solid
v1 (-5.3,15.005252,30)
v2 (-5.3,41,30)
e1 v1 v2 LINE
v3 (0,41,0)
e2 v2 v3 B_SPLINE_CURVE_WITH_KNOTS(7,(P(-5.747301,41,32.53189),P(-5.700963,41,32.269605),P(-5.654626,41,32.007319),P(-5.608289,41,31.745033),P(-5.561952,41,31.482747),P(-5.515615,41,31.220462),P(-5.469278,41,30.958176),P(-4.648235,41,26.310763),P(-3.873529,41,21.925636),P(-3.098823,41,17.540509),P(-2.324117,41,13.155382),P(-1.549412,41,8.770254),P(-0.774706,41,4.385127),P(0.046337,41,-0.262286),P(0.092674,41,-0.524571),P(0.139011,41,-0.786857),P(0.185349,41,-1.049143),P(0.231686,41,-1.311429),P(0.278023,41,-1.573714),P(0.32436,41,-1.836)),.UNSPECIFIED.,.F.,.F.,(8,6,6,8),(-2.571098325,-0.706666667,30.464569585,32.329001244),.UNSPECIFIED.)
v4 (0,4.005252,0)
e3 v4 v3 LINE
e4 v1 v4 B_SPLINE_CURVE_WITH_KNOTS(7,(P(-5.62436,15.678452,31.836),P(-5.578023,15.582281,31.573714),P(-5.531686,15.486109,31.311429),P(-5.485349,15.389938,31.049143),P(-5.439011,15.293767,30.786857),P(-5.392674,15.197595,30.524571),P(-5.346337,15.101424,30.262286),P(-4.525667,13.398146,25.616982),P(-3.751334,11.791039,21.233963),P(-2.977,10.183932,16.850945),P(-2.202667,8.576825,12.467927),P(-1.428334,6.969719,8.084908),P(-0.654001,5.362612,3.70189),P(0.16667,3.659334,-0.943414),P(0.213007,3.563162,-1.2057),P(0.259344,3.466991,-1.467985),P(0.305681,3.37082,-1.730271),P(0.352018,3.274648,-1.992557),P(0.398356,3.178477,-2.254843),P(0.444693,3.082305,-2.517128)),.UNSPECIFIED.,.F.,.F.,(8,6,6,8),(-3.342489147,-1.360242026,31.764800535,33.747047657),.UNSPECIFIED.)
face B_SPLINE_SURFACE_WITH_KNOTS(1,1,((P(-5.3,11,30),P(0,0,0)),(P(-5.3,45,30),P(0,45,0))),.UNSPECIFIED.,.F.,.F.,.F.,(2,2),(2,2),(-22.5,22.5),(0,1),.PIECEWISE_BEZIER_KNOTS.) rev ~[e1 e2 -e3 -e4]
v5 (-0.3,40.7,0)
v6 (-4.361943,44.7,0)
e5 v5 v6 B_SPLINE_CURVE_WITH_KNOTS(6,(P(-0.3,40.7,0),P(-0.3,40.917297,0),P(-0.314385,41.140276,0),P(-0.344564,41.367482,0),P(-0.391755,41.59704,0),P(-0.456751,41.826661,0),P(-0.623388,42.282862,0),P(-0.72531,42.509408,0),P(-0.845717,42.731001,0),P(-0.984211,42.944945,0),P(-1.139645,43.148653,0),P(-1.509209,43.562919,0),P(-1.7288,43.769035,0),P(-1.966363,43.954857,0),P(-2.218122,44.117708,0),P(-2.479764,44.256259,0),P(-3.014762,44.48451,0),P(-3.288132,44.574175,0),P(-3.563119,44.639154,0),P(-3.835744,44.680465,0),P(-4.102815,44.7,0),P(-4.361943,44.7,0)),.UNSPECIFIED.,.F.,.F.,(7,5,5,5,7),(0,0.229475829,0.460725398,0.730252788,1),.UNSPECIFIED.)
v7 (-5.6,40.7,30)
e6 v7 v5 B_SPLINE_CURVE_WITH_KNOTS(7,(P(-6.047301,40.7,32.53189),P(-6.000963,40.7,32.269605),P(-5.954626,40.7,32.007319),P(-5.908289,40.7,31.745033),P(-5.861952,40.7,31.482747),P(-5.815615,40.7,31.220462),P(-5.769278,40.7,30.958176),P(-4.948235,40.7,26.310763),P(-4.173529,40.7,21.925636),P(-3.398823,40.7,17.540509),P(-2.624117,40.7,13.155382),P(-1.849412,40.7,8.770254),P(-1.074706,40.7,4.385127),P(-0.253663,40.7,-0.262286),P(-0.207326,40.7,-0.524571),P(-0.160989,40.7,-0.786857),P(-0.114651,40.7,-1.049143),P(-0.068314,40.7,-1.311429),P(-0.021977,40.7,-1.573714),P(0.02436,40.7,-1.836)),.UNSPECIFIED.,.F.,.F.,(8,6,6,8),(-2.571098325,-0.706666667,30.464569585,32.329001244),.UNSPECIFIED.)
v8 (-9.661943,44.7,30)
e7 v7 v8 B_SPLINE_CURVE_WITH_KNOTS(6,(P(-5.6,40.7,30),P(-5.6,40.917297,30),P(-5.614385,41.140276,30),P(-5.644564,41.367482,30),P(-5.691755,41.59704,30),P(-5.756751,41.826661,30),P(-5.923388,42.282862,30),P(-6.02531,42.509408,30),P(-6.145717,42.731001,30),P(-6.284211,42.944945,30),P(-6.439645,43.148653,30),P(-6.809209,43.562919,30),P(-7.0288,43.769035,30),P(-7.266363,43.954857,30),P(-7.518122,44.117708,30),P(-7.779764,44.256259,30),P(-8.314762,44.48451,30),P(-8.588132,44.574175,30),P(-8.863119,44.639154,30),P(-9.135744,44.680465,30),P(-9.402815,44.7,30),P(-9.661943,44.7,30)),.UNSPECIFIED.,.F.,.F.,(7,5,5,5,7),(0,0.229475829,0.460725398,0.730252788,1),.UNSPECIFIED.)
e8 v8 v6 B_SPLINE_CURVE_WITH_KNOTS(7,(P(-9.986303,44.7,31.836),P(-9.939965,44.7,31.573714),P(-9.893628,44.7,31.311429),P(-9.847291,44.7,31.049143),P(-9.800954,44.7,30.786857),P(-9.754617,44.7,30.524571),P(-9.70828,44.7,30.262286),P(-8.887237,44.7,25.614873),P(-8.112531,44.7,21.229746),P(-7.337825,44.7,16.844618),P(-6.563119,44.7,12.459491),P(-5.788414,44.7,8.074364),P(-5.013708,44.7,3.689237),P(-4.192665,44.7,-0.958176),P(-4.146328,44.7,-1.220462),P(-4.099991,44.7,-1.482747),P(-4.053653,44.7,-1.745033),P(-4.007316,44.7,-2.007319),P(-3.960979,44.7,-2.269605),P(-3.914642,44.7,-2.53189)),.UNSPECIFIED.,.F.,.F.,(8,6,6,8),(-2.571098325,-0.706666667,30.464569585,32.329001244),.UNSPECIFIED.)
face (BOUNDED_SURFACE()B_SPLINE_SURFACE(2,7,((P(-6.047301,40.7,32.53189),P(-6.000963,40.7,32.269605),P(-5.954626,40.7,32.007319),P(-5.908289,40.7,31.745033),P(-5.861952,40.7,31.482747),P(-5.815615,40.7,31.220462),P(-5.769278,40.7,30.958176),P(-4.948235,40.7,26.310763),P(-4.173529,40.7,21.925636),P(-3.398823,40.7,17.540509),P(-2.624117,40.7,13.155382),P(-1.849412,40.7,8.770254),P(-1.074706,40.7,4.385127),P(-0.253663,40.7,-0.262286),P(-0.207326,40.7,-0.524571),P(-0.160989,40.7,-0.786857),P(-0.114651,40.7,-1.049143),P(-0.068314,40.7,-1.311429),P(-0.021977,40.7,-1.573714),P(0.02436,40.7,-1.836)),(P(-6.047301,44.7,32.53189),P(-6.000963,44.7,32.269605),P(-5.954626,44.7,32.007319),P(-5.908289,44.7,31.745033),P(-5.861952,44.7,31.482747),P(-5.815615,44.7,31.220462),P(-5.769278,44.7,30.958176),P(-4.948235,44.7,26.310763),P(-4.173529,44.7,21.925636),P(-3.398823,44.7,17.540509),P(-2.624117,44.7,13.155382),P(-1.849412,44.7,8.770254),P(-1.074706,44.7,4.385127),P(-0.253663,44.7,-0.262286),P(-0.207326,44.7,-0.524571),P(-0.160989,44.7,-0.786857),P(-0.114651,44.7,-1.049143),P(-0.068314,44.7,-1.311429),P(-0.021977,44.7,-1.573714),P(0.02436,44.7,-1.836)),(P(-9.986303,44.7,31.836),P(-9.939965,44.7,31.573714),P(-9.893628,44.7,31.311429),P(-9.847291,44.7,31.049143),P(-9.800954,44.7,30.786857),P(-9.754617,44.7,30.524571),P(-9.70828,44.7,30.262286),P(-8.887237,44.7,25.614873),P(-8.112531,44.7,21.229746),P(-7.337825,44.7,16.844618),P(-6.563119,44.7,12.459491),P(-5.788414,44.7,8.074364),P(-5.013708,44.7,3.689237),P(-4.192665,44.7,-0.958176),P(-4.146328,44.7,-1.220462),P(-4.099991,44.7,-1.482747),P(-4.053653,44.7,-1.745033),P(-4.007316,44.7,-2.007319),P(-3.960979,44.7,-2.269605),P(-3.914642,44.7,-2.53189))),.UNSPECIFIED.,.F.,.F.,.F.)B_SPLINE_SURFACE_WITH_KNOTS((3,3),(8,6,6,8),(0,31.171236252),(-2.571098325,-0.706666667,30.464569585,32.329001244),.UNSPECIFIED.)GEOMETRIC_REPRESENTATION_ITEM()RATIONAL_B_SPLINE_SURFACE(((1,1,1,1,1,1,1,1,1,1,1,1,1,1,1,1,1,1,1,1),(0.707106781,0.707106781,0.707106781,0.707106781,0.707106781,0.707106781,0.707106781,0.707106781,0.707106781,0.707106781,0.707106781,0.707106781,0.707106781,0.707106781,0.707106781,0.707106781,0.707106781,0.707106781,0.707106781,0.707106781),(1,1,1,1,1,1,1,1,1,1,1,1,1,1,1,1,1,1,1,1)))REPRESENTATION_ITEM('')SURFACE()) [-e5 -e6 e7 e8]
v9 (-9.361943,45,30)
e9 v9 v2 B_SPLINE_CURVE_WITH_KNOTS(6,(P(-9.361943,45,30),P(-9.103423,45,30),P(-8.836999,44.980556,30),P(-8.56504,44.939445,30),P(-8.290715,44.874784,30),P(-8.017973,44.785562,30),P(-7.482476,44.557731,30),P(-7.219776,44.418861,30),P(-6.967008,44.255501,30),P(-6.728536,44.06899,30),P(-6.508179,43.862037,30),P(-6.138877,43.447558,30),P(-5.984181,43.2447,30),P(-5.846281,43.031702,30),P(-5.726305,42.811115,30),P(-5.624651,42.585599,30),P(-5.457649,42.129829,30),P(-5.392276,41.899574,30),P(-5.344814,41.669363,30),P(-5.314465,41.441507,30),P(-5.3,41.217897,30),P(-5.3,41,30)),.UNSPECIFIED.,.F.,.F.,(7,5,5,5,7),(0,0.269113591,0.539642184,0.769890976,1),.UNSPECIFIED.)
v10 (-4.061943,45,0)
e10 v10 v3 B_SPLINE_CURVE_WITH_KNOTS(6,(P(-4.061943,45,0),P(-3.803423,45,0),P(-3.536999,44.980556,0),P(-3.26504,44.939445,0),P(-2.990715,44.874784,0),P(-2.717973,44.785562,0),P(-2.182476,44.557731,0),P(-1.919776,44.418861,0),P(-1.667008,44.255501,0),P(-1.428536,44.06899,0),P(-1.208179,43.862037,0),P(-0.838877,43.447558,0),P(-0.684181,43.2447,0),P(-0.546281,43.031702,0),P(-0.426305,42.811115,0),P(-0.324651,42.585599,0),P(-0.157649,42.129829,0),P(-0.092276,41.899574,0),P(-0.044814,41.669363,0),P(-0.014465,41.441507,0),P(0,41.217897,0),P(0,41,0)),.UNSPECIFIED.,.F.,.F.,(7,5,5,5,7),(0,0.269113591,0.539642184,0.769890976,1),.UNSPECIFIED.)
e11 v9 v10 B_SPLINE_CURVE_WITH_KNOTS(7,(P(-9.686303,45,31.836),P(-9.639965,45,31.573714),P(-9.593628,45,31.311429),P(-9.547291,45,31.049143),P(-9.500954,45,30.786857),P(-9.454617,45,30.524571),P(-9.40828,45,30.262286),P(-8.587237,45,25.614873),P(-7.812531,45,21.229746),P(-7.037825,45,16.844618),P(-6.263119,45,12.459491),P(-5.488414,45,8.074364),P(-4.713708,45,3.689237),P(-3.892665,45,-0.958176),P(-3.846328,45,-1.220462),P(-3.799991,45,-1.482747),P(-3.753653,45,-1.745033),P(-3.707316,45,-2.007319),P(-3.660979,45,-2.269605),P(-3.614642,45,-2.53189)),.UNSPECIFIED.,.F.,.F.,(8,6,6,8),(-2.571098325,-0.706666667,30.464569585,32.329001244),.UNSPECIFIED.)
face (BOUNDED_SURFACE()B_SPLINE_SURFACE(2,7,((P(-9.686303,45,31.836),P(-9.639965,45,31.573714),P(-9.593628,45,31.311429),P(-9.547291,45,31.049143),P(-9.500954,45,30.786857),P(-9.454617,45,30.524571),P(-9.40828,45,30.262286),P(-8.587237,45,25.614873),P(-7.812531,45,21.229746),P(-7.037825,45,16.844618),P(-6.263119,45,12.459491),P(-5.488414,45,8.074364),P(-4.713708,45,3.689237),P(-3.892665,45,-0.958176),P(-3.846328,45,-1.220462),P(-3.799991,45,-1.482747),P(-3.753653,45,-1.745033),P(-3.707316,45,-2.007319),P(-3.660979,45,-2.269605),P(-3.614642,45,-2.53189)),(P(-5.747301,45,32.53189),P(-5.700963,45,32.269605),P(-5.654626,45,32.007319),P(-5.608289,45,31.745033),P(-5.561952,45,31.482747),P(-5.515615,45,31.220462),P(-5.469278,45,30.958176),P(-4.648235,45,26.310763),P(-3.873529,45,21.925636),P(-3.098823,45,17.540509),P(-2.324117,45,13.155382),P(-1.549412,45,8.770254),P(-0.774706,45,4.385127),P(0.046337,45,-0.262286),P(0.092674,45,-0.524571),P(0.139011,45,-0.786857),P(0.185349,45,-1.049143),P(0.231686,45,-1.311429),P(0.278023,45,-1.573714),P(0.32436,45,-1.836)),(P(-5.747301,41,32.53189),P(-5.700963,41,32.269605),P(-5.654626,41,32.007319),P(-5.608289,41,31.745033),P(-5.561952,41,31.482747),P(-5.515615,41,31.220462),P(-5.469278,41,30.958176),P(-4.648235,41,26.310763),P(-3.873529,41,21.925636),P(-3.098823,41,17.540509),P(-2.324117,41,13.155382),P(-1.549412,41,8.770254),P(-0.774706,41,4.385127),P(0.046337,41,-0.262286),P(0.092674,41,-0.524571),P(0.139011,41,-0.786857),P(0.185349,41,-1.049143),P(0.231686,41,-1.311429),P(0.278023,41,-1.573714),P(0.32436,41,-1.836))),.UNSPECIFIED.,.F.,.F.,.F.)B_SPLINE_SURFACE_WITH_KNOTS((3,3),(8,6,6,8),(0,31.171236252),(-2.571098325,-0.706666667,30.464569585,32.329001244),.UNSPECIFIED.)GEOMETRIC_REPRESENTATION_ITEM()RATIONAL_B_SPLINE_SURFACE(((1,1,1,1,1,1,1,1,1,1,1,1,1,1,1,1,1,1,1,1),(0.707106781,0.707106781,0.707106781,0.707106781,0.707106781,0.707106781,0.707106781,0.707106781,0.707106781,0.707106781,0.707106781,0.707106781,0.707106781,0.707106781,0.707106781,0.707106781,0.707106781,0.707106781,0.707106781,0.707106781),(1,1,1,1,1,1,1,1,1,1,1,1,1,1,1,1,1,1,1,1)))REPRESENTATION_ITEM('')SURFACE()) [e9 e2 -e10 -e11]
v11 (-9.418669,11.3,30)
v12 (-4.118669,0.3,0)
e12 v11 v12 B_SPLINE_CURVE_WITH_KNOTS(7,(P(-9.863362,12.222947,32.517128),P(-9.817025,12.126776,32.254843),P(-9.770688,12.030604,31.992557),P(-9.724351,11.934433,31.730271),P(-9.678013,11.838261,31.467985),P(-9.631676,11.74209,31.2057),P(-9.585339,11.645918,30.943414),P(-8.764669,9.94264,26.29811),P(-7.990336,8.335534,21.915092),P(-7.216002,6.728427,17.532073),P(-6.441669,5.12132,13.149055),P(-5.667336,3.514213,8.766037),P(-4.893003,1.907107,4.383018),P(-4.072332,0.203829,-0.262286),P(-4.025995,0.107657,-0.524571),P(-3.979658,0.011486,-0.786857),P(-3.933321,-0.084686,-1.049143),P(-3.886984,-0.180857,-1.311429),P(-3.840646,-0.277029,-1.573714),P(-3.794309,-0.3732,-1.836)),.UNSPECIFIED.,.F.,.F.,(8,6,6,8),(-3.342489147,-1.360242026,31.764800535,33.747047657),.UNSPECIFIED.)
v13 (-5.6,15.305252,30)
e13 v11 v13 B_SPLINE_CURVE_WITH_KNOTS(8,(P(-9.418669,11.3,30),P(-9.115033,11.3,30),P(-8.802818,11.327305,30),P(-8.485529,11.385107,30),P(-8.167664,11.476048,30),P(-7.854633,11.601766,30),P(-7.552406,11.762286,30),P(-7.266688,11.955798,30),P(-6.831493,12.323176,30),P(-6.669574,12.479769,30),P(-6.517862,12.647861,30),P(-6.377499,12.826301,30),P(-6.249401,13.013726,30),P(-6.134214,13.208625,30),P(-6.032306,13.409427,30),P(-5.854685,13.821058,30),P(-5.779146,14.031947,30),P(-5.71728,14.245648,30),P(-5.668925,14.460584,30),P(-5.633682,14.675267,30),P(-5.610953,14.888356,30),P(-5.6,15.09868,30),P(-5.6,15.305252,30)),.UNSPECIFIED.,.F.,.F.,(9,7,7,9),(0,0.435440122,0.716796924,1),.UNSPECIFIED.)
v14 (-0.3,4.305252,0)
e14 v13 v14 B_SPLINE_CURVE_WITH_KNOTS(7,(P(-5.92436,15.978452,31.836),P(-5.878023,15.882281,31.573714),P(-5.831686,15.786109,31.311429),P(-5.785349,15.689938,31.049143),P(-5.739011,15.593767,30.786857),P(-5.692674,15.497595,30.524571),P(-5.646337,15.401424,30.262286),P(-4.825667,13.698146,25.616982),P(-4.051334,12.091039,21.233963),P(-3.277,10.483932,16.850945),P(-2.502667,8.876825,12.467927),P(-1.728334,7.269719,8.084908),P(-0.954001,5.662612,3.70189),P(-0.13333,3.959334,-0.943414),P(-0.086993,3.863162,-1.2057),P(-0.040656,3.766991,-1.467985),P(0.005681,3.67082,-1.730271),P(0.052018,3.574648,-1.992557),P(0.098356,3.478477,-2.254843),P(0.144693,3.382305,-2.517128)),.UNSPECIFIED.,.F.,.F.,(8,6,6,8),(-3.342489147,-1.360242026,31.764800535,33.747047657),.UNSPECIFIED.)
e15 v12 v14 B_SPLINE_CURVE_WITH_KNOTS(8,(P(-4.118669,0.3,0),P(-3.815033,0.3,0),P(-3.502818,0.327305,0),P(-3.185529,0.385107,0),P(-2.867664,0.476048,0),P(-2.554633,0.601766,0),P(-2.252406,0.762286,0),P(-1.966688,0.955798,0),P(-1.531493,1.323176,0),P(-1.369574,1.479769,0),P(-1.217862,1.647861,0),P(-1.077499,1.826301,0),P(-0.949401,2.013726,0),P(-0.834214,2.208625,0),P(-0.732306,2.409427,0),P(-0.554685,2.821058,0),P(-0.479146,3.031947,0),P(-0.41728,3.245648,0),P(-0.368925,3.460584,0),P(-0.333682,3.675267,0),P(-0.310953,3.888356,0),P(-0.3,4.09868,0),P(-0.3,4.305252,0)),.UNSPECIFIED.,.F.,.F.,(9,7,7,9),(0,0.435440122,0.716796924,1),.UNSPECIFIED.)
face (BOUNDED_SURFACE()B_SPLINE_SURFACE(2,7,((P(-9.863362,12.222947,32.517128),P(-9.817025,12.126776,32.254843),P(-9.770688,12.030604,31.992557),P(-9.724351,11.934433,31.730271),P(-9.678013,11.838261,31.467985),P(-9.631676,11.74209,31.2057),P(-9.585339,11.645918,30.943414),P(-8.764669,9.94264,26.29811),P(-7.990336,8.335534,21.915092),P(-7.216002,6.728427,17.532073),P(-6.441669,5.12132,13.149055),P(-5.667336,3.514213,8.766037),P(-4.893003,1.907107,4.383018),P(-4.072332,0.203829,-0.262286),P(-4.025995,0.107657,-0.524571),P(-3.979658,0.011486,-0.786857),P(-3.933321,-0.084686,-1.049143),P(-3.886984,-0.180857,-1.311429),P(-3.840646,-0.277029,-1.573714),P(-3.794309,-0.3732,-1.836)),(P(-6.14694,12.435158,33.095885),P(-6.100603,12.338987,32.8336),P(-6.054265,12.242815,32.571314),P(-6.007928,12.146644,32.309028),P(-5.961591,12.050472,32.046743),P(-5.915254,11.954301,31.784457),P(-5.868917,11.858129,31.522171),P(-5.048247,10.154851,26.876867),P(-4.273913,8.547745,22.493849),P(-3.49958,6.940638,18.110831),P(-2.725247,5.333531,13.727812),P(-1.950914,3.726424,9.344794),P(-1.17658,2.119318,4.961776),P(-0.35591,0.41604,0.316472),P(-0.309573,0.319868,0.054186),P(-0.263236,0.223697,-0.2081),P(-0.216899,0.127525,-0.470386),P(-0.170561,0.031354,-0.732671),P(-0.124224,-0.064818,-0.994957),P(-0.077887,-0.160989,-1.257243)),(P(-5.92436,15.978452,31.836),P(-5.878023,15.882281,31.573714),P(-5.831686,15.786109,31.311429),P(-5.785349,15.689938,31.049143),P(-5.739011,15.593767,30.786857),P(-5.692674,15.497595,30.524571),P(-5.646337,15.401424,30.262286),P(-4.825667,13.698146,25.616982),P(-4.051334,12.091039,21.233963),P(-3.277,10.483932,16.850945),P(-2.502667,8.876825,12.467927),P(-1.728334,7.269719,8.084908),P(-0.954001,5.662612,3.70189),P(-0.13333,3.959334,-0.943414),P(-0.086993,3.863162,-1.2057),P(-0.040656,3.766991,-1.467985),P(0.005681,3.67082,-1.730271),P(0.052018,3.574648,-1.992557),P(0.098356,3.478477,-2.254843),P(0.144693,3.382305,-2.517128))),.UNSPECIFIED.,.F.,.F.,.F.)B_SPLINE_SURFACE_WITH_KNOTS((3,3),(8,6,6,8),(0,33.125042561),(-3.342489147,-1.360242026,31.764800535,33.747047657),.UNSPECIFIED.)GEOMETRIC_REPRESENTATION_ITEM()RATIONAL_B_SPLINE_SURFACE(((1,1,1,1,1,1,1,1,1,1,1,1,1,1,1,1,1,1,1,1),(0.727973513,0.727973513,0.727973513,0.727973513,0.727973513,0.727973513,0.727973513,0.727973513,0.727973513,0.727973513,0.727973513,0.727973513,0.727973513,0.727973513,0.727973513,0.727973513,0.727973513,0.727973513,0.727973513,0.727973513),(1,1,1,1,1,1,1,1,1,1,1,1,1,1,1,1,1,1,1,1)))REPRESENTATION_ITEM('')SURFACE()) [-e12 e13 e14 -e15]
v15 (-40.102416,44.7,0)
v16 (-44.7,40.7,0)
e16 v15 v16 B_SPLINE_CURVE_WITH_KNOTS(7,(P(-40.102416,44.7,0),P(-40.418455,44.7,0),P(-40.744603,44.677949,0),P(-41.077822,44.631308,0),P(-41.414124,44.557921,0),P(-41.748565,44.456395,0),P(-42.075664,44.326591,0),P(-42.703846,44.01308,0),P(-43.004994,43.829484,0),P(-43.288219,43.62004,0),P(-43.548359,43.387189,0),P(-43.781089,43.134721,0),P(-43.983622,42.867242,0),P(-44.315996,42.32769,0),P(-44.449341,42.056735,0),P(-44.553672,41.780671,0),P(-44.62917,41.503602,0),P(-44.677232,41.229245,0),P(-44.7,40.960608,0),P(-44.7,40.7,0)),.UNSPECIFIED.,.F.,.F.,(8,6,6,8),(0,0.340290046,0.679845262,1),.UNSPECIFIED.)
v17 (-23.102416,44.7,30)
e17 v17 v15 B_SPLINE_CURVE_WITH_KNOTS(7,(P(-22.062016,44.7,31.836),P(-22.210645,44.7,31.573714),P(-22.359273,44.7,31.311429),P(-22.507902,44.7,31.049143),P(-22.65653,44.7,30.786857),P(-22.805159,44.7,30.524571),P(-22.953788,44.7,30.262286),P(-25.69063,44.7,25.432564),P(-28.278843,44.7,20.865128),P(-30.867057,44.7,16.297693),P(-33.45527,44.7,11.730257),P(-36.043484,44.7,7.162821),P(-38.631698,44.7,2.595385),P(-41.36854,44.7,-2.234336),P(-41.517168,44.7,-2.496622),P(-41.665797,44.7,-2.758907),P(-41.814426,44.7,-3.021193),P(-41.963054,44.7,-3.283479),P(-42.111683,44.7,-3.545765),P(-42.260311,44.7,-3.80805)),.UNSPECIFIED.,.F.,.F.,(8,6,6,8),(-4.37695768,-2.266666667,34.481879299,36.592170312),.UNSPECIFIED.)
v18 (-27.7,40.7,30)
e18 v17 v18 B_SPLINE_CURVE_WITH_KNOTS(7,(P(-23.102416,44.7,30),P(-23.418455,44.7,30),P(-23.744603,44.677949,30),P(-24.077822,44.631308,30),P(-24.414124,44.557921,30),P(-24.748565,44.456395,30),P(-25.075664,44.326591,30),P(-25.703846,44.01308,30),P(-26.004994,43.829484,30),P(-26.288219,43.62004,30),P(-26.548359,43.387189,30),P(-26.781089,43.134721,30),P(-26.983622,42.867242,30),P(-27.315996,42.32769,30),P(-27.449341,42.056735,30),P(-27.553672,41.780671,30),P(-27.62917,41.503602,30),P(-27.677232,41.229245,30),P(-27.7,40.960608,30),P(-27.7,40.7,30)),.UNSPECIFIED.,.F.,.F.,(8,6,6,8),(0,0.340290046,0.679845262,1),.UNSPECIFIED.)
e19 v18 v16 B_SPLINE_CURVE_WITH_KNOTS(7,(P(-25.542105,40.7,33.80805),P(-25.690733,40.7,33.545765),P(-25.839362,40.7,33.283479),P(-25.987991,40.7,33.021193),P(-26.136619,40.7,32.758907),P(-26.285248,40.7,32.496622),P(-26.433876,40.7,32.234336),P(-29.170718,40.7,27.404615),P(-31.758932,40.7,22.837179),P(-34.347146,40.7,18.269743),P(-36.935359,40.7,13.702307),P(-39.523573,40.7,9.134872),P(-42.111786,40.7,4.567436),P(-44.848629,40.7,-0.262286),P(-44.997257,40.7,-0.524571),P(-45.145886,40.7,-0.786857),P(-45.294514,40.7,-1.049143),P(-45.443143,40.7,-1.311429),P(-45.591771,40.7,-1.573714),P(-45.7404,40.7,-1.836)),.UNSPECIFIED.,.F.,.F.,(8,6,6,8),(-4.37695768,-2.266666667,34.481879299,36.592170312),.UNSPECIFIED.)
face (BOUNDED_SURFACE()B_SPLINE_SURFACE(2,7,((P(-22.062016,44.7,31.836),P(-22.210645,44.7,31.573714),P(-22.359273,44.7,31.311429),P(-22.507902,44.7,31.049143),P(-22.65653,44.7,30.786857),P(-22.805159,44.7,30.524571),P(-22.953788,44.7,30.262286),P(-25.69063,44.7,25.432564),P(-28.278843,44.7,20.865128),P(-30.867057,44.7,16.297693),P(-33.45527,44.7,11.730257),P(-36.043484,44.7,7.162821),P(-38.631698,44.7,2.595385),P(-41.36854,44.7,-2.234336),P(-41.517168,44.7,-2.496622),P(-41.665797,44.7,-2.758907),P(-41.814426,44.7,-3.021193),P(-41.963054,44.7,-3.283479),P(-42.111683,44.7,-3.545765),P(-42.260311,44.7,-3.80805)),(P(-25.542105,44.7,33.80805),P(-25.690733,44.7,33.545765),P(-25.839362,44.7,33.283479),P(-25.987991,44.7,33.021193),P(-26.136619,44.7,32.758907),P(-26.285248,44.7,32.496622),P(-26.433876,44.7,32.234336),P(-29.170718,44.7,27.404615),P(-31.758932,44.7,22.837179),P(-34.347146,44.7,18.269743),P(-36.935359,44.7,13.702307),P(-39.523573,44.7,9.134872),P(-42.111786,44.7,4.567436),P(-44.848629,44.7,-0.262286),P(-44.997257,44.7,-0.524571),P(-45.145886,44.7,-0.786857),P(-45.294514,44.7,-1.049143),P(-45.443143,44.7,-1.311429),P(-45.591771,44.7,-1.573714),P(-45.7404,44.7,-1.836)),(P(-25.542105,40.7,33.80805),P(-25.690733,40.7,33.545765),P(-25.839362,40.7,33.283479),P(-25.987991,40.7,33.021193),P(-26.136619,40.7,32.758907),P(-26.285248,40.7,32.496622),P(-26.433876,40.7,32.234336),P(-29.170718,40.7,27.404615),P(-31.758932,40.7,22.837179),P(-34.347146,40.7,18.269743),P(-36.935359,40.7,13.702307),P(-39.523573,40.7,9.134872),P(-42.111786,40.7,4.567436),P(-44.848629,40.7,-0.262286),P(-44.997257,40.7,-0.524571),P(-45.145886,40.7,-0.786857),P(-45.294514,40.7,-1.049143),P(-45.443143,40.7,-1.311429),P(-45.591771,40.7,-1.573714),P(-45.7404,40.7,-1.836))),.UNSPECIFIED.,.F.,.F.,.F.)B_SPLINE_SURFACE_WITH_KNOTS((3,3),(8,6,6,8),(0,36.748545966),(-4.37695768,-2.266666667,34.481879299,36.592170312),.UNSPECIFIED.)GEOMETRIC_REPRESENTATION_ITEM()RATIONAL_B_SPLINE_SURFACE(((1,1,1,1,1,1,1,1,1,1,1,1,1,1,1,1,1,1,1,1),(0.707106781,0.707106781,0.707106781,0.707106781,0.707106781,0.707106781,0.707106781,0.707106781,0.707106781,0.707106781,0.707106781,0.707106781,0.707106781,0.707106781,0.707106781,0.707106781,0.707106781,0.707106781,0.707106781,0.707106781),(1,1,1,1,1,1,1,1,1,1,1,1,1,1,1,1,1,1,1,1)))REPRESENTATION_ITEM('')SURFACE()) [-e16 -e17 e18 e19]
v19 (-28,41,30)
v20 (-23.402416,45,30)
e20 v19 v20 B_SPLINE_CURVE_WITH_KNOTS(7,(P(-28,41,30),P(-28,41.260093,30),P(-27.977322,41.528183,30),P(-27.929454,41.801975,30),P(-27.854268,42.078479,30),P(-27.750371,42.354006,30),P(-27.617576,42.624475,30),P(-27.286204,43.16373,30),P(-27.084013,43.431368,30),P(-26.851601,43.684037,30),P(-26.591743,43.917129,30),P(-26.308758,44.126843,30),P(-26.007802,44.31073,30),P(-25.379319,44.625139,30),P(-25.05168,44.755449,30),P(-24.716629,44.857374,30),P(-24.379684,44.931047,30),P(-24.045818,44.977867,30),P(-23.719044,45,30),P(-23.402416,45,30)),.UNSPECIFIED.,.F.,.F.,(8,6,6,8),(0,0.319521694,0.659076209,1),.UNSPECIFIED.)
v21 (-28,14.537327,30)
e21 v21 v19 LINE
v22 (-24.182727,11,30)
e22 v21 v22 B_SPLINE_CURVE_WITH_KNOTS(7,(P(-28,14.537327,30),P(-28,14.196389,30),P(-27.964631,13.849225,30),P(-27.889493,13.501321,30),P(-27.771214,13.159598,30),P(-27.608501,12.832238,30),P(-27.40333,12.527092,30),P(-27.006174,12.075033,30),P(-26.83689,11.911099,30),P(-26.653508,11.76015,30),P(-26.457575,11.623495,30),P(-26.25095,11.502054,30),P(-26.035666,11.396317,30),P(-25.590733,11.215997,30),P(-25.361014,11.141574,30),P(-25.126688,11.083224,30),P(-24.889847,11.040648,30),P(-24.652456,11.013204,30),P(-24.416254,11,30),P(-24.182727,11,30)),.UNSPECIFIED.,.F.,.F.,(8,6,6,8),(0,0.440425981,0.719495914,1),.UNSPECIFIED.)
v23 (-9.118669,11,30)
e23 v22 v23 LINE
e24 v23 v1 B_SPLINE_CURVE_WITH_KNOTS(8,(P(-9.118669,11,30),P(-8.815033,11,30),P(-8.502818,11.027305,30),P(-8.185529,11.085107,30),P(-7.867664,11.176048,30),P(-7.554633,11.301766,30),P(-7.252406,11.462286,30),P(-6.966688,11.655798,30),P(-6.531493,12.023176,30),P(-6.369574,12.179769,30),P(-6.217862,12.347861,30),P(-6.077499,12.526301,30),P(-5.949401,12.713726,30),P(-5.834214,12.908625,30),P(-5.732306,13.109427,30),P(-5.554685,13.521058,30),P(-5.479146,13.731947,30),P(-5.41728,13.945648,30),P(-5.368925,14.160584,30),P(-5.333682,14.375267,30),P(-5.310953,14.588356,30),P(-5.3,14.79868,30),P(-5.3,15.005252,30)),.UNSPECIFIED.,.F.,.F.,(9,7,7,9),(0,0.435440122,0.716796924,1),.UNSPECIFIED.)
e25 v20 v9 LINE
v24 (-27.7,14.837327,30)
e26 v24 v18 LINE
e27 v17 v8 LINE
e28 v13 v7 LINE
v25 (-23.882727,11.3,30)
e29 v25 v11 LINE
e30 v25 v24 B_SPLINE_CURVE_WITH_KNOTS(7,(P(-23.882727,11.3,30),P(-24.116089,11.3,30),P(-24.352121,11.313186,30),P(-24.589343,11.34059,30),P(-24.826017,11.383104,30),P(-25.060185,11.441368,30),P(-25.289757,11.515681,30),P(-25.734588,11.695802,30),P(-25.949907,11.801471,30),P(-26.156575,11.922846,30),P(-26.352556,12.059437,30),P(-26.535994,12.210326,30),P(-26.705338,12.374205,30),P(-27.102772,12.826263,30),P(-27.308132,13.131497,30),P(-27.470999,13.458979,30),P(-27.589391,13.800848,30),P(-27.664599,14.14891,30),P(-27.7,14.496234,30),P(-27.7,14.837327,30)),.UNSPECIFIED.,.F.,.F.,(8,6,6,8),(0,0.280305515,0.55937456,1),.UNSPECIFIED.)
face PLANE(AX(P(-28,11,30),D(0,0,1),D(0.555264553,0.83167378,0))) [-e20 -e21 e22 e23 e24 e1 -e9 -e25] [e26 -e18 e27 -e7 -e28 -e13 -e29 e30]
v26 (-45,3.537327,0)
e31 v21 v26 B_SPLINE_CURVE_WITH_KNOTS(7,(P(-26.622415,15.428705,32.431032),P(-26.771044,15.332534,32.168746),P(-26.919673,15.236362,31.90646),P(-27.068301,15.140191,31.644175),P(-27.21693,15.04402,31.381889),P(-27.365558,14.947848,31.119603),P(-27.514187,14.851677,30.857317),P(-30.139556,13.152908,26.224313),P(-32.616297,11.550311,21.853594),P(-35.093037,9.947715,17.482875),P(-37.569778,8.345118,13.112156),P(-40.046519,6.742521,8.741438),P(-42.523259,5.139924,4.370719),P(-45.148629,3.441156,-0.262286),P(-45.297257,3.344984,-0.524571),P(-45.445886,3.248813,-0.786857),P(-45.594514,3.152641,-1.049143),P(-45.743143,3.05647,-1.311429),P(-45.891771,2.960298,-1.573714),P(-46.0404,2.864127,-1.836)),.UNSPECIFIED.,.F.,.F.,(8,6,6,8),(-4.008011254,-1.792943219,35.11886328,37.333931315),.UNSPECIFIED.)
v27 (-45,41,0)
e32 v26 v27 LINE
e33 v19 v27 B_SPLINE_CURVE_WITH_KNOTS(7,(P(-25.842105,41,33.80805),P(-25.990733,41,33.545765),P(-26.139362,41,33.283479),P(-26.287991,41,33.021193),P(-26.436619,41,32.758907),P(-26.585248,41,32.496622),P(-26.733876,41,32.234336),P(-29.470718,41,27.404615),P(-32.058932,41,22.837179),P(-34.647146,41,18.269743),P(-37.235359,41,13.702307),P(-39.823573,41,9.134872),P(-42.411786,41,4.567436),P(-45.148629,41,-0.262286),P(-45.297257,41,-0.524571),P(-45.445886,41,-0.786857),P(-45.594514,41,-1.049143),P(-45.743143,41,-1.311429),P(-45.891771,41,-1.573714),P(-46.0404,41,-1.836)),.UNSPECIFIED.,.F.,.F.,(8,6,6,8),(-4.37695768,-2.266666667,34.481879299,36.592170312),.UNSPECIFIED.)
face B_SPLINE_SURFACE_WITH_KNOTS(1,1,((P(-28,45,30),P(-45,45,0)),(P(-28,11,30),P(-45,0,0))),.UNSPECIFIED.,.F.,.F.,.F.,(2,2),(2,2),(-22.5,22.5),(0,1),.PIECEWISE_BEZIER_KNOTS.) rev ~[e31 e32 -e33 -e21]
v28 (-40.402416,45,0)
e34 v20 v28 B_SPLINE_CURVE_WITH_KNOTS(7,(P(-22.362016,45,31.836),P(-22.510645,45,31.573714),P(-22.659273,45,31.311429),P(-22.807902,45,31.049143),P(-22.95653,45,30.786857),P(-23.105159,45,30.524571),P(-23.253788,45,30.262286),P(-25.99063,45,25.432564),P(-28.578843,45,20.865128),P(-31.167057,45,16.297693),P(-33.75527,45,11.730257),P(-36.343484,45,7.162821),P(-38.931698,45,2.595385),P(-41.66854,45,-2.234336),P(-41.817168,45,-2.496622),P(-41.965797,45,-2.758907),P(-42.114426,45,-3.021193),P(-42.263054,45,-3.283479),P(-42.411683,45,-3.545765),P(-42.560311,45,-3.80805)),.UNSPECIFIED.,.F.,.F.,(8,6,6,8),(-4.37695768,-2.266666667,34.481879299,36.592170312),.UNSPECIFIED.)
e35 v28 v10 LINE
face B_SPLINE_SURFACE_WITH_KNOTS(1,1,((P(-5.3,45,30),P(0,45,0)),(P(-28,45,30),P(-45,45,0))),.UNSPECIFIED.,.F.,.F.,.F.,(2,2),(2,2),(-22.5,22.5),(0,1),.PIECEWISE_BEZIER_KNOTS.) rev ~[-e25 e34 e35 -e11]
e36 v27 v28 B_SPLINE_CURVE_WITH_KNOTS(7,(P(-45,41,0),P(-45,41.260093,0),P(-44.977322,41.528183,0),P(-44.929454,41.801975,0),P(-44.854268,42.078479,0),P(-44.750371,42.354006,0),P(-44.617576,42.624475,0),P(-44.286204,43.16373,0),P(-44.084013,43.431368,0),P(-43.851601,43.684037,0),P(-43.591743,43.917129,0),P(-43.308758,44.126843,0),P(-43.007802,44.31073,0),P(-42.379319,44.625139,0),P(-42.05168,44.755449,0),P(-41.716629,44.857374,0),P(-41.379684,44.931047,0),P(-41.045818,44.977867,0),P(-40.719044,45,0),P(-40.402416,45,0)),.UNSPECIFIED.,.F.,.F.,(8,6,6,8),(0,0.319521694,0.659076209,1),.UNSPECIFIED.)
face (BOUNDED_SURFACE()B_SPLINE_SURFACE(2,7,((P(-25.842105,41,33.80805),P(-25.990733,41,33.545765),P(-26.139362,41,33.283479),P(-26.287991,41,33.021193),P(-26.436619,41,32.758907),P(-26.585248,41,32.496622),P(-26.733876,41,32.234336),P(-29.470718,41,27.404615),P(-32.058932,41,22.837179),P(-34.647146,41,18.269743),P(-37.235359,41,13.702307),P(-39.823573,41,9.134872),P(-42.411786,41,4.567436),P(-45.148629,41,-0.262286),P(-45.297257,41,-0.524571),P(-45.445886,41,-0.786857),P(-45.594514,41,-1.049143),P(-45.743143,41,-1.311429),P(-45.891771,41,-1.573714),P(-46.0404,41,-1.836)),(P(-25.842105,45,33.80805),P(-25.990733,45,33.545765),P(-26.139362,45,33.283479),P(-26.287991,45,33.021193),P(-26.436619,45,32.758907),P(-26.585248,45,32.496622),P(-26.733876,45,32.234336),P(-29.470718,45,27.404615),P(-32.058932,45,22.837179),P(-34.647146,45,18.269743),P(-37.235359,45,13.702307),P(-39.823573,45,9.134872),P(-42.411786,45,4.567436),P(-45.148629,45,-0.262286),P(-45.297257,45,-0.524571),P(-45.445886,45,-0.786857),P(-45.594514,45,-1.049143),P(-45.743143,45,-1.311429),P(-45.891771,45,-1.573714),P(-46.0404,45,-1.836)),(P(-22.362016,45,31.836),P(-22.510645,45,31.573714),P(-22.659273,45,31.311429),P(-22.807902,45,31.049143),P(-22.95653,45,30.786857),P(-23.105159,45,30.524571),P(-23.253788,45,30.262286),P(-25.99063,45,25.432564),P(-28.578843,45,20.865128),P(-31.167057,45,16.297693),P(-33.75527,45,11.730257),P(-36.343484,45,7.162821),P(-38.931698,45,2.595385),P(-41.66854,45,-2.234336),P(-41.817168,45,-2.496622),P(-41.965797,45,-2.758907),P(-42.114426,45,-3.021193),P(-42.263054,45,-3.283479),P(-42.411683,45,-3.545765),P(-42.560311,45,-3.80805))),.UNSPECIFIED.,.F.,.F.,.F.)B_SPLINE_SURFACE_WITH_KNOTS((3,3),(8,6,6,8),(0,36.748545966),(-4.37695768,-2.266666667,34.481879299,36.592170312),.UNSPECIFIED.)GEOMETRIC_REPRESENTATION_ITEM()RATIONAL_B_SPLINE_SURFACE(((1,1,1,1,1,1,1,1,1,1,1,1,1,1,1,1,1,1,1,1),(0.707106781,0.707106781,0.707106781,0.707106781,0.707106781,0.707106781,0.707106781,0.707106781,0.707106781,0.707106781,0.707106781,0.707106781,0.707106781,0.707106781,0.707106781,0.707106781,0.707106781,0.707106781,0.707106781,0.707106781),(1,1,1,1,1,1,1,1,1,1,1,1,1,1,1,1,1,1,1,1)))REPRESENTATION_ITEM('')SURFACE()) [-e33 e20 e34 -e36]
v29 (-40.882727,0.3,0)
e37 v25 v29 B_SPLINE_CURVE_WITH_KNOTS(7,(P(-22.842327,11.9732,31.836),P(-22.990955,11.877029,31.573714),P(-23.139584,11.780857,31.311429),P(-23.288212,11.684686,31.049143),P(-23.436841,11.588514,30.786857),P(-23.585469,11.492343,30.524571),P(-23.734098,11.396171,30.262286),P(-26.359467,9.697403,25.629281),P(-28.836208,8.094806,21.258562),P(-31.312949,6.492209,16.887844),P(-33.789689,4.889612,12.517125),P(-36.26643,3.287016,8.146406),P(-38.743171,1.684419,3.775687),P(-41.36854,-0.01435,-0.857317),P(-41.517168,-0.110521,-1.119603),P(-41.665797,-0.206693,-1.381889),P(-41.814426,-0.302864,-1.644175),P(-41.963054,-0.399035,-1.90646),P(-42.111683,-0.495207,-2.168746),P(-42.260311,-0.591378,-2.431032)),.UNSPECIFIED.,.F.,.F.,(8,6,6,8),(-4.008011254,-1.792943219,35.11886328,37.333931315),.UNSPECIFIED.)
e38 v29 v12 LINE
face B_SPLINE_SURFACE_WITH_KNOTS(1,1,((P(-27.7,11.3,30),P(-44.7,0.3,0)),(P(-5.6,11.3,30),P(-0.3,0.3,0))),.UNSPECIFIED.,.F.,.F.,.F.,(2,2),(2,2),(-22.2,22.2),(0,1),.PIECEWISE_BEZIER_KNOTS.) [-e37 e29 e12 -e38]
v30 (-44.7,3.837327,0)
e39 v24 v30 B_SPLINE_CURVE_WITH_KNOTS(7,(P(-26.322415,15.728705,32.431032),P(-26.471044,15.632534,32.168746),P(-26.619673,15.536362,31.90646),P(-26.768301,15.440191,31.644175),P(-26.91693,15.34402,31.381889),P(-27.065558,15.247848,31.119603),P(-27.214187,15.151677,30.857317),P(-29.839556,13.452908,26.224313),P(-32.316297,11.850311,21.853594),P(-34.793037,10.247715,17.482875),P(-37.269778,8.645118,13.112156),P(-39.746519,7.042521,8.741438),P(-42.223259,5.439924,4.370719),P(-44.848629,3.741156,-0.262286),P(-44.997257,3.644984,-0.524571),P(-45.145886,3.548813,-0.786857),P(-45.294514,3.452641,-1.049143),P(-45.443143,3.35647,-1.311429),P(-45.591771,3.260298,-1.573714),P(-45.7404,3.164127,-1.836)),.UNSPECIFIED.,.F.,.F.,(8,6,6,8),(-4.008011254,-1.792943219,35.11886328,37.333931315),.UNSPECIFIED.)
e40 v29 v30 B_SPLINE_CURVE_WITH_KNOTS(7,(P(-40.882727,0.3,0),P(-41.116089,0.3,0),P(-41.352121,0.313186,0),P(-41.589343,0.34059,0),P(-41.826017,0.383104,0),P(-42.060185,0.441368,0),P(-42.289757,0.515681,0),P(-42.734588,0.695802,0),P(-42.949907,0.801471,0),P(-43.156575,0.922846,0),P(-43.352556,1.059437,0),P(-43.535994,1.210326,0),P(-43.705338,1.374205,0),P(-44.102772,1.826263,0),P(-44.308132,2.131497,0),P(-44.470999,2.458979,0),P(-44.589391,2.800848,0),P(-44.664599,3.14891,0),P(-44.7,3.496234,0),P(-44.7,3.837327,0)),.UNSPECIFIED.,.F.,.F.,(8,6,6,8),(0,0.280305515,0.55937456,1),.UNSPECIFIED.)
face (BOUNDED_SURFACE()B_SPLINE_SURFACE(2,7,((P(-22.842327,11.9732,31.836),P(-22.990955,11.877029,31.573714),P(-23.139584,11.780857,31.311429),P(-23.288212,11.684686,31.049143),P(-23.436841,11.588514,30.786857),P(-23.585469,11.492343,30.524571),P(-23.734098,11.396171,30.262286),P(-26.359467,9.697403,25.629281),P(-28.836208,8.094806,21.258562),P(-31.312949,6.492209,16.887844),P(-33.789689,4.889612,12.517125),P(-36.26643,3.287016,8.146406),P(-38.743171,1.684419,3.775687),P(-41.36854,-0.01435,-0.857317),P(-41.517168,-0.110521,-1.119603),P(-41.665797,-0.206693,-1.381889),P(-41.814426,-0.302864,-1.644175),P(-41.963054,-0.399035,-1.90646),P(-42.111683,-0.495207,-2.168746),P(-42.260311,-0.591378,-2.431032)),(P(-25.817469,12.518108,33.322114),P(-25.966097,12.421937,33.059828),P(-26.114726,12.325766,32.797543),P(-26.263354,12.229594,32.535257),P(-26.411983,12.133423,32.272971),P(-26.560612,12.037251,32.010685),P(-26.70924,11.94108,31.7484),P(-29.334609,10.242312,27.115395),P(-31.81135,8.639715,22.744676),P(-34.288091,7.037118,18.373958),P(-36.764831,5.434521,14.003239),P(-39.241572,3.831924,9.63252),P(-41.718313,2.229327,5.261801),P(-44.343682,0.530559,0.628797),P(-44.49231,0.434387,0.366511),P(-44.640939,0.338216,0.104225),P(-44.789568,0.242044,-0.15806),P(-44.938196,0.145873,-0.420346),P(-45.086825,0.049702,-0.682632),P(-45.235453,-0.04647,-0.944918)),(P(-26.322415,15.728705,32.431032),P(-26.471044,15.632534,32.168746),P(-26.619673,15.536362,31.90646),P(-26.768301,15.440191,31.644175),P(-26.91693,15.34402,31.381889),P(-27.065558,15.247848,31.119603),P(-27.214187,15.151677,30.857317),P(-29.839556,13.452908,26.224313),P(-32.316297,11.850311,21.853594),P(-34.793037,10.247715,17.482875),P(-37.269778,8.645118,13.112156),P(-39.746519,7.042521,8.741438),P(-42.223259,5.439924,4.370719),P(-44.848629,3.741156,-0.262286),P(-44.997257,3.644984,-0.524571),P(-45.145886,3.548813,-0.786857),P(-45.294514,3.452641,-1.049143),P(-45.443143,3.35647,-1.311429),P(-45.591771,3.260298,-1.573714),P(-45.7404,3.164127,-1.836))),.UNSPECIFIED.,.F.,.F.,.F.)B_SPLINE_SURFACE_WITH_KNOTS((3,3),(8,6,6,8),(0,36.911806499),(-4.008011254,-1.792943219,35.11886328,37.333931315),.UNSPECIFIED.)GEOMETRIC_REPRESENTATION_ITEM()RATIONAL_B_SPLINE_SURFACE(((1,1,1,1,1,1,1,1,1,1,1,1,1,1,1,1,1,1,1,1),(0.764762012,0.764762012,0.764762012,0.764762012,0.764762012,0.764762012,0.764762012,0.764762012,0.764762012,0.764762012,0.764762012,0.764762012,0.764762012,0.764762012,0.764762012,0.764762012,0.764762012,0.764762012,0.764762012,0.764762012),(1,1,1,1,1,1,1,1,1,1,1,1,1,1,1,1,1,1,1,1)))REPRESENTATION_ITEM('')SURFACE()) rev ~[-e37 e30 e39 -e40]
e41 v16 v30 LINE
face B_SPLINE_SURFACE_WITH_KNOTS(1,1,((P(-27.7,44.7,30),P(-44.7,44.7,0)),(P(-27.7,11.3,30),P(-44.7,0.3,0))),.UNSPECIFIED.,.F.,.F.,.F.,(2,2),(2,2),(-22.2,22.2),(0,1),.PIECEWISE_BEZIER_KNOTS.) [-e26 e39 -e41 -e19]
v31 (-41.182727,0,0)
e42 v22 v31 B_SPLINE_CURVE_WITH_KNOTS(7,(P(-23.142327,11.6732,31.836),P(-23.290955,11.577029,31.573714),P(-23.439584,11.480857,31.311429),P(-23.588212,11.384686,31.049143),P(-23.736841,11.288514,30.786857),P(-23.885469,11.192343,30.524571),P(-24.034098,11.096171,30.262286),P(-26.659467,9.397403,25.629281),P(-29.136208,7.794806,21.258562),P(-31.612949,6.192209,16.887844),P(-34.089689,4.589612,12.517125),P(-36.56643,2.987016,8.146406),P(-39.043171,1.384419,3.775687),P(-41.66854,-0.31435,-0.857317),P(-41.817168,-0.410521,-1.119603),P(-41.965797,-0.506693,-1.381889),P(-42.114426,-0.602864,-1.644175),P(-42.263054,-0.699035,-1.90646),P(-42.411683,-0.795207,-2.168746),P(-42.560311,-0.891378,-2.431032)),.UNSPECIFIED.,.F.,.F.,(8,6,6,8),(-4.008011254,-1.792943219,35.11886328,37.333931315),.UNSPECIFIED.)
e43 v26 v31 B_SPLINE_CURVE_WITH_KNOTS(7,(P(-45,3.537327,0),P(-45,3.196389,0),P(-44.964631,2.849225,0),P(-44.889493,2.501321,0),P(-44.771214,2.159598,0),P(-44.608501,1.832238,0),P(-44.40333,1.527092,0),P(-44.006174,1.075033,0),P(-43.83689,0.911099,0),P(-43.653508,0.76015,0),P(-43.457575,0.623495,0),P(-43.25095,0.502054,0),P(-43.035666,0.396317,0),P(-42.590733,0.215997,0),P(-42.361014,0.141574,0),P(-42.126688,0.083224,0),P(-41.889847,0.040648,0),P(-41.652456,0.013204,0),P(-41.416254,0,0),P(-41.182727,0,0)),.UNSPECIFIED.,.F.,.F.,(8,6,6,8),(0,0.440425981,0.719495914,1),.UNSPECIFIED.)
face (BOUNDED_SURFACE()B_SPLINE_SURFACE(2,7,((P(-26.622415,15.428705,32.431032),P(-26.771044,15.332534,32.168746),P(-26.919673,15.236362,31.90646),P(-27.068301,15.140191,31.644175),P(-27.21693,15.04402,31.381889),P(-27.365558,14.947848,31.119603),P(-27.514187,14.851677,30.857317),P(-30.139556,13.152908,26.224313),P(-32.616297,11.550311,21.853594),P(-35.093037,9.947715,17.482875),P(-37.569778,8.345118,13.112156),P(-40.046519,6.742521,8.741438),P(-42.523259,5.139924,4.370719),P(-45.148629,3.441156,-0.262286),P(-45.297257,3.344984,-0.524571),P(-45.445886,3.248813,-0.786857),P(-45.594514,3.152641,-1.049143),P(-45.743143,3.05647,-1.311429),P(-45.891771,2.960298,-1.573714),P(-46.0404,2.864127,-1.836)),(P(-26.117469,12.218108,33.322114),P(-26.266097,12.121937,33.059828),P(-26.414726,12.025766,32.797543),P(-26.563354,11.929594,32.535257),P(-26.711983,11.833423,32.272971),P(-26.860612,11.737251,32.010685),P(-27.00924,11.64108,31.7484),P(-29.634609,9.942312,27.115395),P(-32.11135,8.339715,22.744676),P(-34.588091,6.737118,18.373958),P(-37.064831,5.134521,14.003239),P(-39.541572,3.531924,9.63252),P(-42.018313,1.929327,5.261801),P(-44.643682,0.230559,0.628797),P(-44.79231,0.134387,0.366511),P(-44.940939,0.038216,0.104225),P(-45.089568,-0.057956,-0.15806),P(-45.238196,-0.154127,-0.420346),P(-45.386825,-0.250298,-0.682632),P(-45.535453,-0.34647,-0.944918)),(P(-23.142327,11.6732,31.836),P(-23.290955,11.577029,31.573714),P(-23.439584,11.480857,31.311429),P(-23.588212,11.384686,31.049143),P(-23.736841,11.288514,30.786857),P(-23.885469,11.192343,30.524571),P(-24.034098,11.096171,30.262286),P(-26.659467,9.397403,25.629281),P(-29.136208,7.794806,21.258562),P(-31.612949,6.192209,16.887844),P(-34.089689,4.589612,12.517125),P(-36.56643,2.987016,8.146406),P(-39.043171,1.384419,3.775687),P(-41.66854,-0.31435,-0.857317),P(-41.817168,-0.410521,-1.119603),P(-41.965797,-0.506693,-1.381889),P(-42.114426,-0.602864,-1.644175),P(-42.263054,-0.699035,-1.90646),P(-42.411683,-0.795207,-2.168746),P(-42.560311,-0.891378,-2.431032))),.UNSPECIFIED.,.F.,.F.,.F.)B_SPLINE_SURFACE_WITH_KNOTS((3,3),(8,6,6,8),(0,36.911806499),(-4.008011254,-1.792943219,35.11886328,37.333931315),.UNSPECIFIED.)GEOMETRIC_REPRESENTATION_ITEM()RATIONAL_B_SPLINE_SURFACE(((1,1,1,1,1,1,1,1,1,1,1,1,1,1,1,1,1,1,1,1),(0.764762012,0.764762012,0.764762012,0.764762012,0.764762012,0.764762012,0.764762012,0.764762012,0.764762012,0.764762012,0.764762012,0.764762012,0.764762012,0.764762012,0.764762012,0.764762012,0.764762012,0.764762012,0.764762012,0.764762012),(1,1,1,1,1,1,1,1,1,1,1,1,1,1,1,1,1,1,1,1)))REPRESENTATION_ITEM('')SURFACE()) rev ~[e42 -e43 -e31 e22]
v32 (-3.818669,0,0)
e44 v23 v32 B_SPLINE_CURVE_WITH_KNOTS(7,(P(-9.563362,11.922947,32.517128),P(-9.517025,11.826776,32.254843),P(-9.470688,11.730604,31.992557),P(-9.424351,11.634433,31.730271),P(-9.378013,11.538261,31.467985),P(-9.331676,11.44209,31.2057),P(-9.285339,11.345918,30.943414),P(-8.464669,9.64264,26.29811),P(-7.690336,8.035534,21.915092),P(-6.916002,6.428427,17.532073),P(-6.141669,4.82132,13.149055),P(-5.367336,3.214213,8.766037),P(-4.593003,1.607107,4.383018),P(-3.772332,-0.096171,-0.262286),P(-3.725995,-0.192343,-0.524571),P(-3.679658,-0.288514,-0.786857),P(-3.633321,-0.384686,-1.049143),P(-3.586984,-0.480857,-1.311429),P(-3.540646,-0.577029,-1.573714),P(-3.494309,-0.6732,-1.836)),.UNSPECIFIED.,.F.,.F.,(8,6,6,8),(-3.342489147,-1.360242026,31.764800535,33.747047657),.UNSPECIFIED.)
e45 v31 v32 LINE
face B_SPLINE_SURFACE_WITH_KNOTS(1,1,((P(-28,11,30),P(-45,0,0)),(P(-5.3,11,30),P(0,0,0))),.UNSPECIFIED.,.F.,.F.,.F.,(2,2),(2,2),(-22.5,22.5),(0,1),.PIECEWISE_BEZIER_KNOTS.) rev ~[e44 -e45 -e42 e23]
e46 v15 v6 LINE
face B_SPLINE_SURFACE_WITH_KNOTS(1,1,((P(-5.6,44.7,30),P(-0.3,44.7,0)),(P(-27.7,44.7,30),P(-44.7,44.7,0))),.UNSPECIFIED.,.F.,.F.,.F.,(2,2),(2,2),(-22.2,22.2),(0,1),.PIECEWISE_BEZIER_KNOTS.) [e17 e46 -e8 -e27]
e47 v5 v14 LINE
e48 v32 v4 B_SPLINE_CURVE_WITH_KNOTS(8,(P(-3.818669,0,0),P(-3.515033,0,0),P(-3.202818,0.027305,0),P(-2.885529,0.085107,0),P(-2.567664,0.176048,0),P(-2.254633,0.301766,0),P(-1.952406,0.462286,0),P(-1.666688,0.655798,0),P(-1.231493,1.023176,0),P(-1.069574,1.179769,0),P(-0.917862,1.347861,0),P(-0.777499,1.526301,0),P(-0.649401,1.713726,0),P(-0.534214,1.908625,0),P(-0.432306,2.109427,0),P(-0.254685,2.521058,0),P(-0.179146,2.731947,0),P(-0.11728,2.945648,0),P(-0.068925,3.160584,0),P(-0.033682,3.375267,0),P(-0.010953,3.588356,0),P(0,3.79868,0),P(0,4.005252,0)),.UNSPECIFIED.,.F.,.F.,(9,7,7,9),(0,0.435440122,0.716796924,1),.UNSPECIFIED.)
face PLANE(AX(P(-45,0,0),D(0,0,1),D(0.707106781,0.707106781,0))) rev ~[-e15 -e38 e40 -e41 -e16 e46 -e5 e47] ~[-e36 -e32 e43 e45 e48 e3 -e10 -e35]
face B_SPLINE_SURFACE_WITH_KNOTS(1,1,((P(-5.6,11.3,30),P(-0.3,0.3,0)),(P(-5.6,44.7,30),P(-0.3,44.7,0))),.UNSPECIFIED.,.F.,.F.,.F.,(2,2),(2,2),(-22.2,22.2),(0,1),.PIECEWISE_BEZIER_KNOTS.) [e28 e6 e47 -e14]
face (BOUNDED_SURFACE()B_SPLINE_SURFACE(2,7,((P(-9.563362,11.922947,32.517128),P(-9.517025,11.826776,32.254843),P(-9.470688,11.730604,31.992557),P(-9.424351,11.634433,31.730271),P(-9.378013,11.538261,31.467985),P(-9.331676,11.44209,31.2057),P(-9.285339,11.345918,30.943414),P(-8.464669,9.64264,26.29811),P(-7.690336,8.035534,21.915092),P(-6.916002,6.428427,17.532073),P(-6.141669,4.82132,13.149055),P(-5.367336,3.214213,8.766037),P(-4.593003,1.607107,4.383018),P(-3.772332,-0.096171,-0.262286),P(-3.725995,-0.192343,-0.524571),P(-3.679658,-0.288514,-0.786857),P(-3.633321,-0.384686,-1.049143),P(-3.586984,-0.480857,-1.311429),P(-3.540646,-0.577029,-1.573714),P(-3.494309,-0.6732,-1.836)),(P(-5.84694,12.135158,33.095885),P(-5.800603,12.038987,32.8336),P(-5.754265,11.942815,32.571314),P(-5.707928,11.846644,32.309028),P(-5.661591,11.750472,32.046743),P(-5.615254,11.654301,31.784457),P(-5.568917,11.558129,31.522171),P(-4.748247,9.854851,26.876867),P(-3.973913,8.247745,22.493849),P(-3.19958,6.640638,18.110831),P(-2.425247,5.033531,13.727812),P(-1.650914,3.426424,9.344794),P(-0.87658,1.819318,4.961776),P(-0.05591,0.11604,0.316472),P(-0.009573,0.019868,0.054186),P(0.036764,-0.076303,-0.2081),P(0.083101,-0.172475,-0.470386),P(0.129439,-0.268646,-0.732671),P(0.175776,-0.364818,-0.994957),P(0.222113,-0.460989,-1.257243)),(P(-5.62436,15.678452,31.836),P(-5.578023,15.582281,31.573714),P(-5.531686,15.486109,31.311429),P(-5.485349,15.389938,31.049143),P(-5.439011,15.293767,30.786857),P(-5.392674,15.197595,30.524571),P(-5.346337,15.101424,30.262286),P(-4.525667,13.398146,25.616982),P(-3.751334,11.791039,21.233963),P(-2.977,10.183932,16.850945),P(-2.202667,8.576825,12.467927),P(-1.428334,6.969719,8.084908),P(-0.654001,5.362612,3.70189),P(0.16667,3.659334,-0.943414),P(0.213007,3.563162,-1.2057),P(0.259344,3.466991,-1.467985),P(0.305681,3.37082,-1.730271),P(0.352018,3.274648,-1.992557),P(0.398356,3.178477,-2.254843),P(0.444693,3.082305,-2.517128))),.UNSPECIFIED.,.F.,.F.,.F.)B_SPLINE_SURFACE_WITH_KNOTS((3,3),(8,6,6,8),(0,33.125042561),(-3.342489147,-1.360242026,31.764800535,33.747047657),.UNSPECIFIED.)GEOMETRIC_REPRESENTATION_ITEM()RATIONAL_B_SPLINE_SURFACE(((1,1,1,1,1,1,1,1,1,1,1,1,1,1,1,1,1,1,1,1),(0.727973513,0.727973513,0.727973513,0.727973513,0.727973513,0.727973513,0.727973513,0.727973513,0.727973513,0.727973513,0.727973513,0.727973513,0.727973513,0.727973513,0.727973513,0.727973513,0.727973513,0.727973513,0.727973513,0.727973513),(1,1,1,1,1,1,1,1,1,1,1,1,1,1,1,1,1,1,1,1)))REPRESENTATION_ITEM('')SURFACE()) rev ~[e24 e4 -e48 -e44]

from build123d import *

# Parameters (mm, degrees)
F2_W = 22.7
F2_H = 34
F0_W = 45
F0_H = 45
F4_W = 22.1
F4_H = 33.4
F5_W = 44.4
F5_H = 44.4
F7_R = 4
F8_R = 4


with BuildPart() as f3:
    # F2 (on offset) → F3 section 0
    with BuildSketch(Plane.XY.offset(30)):
        with Locations((-16.65, 28)):
            Rectangle(F2_W, F2_H)
    # F0 (on Top) → F3 section 1
    with BuildSketch(Plane.XY):
        with Locations((-22.5, 22.5)):
            Rectangle(F0_W, F0_H)
    loft()

    # F4 (on face) → F6 section 0
    with BuildSketch(Plane.XY.offset(30)):
        with Locations((-16.65, 28)):
            Rectangle(F4_W, F4_H)
    # F5 (on face) → F6 section 1
    with BuildSketch(Plane(origin=(0, 0, 0), x_dir=(1, 0, 0), z_dir=(0, 0, -1))):
        with Locations((-22.5, -22.5)):
            Rectangle(F5_W, F5_H)
    loft(mode=Mode.SUBTRACT)

    # F7
    f7_edges = [f3.edges().sort_by_distance(p)[0] for p in [
        (-36.2, 44.7, 15),
        (-36.2, 5.8, 15),
        (-2.95, 5.8, 15),
        (-2.95, 44.7, 15),
    ]]
    fillet(f7_edges, radius=F7_R)

    # F8
    f8_edges = [f3.edges().sort_by_distance(p)[0] for p in [
        (-36.5, 5.5, 15),
        (-36.5, 45, 15),
        (-2.65, 5.5, 15),
        (-2.65, 45, 15),
    ]]
    fillet(f8_edges, radius=F8_R)


solid = f3.part
